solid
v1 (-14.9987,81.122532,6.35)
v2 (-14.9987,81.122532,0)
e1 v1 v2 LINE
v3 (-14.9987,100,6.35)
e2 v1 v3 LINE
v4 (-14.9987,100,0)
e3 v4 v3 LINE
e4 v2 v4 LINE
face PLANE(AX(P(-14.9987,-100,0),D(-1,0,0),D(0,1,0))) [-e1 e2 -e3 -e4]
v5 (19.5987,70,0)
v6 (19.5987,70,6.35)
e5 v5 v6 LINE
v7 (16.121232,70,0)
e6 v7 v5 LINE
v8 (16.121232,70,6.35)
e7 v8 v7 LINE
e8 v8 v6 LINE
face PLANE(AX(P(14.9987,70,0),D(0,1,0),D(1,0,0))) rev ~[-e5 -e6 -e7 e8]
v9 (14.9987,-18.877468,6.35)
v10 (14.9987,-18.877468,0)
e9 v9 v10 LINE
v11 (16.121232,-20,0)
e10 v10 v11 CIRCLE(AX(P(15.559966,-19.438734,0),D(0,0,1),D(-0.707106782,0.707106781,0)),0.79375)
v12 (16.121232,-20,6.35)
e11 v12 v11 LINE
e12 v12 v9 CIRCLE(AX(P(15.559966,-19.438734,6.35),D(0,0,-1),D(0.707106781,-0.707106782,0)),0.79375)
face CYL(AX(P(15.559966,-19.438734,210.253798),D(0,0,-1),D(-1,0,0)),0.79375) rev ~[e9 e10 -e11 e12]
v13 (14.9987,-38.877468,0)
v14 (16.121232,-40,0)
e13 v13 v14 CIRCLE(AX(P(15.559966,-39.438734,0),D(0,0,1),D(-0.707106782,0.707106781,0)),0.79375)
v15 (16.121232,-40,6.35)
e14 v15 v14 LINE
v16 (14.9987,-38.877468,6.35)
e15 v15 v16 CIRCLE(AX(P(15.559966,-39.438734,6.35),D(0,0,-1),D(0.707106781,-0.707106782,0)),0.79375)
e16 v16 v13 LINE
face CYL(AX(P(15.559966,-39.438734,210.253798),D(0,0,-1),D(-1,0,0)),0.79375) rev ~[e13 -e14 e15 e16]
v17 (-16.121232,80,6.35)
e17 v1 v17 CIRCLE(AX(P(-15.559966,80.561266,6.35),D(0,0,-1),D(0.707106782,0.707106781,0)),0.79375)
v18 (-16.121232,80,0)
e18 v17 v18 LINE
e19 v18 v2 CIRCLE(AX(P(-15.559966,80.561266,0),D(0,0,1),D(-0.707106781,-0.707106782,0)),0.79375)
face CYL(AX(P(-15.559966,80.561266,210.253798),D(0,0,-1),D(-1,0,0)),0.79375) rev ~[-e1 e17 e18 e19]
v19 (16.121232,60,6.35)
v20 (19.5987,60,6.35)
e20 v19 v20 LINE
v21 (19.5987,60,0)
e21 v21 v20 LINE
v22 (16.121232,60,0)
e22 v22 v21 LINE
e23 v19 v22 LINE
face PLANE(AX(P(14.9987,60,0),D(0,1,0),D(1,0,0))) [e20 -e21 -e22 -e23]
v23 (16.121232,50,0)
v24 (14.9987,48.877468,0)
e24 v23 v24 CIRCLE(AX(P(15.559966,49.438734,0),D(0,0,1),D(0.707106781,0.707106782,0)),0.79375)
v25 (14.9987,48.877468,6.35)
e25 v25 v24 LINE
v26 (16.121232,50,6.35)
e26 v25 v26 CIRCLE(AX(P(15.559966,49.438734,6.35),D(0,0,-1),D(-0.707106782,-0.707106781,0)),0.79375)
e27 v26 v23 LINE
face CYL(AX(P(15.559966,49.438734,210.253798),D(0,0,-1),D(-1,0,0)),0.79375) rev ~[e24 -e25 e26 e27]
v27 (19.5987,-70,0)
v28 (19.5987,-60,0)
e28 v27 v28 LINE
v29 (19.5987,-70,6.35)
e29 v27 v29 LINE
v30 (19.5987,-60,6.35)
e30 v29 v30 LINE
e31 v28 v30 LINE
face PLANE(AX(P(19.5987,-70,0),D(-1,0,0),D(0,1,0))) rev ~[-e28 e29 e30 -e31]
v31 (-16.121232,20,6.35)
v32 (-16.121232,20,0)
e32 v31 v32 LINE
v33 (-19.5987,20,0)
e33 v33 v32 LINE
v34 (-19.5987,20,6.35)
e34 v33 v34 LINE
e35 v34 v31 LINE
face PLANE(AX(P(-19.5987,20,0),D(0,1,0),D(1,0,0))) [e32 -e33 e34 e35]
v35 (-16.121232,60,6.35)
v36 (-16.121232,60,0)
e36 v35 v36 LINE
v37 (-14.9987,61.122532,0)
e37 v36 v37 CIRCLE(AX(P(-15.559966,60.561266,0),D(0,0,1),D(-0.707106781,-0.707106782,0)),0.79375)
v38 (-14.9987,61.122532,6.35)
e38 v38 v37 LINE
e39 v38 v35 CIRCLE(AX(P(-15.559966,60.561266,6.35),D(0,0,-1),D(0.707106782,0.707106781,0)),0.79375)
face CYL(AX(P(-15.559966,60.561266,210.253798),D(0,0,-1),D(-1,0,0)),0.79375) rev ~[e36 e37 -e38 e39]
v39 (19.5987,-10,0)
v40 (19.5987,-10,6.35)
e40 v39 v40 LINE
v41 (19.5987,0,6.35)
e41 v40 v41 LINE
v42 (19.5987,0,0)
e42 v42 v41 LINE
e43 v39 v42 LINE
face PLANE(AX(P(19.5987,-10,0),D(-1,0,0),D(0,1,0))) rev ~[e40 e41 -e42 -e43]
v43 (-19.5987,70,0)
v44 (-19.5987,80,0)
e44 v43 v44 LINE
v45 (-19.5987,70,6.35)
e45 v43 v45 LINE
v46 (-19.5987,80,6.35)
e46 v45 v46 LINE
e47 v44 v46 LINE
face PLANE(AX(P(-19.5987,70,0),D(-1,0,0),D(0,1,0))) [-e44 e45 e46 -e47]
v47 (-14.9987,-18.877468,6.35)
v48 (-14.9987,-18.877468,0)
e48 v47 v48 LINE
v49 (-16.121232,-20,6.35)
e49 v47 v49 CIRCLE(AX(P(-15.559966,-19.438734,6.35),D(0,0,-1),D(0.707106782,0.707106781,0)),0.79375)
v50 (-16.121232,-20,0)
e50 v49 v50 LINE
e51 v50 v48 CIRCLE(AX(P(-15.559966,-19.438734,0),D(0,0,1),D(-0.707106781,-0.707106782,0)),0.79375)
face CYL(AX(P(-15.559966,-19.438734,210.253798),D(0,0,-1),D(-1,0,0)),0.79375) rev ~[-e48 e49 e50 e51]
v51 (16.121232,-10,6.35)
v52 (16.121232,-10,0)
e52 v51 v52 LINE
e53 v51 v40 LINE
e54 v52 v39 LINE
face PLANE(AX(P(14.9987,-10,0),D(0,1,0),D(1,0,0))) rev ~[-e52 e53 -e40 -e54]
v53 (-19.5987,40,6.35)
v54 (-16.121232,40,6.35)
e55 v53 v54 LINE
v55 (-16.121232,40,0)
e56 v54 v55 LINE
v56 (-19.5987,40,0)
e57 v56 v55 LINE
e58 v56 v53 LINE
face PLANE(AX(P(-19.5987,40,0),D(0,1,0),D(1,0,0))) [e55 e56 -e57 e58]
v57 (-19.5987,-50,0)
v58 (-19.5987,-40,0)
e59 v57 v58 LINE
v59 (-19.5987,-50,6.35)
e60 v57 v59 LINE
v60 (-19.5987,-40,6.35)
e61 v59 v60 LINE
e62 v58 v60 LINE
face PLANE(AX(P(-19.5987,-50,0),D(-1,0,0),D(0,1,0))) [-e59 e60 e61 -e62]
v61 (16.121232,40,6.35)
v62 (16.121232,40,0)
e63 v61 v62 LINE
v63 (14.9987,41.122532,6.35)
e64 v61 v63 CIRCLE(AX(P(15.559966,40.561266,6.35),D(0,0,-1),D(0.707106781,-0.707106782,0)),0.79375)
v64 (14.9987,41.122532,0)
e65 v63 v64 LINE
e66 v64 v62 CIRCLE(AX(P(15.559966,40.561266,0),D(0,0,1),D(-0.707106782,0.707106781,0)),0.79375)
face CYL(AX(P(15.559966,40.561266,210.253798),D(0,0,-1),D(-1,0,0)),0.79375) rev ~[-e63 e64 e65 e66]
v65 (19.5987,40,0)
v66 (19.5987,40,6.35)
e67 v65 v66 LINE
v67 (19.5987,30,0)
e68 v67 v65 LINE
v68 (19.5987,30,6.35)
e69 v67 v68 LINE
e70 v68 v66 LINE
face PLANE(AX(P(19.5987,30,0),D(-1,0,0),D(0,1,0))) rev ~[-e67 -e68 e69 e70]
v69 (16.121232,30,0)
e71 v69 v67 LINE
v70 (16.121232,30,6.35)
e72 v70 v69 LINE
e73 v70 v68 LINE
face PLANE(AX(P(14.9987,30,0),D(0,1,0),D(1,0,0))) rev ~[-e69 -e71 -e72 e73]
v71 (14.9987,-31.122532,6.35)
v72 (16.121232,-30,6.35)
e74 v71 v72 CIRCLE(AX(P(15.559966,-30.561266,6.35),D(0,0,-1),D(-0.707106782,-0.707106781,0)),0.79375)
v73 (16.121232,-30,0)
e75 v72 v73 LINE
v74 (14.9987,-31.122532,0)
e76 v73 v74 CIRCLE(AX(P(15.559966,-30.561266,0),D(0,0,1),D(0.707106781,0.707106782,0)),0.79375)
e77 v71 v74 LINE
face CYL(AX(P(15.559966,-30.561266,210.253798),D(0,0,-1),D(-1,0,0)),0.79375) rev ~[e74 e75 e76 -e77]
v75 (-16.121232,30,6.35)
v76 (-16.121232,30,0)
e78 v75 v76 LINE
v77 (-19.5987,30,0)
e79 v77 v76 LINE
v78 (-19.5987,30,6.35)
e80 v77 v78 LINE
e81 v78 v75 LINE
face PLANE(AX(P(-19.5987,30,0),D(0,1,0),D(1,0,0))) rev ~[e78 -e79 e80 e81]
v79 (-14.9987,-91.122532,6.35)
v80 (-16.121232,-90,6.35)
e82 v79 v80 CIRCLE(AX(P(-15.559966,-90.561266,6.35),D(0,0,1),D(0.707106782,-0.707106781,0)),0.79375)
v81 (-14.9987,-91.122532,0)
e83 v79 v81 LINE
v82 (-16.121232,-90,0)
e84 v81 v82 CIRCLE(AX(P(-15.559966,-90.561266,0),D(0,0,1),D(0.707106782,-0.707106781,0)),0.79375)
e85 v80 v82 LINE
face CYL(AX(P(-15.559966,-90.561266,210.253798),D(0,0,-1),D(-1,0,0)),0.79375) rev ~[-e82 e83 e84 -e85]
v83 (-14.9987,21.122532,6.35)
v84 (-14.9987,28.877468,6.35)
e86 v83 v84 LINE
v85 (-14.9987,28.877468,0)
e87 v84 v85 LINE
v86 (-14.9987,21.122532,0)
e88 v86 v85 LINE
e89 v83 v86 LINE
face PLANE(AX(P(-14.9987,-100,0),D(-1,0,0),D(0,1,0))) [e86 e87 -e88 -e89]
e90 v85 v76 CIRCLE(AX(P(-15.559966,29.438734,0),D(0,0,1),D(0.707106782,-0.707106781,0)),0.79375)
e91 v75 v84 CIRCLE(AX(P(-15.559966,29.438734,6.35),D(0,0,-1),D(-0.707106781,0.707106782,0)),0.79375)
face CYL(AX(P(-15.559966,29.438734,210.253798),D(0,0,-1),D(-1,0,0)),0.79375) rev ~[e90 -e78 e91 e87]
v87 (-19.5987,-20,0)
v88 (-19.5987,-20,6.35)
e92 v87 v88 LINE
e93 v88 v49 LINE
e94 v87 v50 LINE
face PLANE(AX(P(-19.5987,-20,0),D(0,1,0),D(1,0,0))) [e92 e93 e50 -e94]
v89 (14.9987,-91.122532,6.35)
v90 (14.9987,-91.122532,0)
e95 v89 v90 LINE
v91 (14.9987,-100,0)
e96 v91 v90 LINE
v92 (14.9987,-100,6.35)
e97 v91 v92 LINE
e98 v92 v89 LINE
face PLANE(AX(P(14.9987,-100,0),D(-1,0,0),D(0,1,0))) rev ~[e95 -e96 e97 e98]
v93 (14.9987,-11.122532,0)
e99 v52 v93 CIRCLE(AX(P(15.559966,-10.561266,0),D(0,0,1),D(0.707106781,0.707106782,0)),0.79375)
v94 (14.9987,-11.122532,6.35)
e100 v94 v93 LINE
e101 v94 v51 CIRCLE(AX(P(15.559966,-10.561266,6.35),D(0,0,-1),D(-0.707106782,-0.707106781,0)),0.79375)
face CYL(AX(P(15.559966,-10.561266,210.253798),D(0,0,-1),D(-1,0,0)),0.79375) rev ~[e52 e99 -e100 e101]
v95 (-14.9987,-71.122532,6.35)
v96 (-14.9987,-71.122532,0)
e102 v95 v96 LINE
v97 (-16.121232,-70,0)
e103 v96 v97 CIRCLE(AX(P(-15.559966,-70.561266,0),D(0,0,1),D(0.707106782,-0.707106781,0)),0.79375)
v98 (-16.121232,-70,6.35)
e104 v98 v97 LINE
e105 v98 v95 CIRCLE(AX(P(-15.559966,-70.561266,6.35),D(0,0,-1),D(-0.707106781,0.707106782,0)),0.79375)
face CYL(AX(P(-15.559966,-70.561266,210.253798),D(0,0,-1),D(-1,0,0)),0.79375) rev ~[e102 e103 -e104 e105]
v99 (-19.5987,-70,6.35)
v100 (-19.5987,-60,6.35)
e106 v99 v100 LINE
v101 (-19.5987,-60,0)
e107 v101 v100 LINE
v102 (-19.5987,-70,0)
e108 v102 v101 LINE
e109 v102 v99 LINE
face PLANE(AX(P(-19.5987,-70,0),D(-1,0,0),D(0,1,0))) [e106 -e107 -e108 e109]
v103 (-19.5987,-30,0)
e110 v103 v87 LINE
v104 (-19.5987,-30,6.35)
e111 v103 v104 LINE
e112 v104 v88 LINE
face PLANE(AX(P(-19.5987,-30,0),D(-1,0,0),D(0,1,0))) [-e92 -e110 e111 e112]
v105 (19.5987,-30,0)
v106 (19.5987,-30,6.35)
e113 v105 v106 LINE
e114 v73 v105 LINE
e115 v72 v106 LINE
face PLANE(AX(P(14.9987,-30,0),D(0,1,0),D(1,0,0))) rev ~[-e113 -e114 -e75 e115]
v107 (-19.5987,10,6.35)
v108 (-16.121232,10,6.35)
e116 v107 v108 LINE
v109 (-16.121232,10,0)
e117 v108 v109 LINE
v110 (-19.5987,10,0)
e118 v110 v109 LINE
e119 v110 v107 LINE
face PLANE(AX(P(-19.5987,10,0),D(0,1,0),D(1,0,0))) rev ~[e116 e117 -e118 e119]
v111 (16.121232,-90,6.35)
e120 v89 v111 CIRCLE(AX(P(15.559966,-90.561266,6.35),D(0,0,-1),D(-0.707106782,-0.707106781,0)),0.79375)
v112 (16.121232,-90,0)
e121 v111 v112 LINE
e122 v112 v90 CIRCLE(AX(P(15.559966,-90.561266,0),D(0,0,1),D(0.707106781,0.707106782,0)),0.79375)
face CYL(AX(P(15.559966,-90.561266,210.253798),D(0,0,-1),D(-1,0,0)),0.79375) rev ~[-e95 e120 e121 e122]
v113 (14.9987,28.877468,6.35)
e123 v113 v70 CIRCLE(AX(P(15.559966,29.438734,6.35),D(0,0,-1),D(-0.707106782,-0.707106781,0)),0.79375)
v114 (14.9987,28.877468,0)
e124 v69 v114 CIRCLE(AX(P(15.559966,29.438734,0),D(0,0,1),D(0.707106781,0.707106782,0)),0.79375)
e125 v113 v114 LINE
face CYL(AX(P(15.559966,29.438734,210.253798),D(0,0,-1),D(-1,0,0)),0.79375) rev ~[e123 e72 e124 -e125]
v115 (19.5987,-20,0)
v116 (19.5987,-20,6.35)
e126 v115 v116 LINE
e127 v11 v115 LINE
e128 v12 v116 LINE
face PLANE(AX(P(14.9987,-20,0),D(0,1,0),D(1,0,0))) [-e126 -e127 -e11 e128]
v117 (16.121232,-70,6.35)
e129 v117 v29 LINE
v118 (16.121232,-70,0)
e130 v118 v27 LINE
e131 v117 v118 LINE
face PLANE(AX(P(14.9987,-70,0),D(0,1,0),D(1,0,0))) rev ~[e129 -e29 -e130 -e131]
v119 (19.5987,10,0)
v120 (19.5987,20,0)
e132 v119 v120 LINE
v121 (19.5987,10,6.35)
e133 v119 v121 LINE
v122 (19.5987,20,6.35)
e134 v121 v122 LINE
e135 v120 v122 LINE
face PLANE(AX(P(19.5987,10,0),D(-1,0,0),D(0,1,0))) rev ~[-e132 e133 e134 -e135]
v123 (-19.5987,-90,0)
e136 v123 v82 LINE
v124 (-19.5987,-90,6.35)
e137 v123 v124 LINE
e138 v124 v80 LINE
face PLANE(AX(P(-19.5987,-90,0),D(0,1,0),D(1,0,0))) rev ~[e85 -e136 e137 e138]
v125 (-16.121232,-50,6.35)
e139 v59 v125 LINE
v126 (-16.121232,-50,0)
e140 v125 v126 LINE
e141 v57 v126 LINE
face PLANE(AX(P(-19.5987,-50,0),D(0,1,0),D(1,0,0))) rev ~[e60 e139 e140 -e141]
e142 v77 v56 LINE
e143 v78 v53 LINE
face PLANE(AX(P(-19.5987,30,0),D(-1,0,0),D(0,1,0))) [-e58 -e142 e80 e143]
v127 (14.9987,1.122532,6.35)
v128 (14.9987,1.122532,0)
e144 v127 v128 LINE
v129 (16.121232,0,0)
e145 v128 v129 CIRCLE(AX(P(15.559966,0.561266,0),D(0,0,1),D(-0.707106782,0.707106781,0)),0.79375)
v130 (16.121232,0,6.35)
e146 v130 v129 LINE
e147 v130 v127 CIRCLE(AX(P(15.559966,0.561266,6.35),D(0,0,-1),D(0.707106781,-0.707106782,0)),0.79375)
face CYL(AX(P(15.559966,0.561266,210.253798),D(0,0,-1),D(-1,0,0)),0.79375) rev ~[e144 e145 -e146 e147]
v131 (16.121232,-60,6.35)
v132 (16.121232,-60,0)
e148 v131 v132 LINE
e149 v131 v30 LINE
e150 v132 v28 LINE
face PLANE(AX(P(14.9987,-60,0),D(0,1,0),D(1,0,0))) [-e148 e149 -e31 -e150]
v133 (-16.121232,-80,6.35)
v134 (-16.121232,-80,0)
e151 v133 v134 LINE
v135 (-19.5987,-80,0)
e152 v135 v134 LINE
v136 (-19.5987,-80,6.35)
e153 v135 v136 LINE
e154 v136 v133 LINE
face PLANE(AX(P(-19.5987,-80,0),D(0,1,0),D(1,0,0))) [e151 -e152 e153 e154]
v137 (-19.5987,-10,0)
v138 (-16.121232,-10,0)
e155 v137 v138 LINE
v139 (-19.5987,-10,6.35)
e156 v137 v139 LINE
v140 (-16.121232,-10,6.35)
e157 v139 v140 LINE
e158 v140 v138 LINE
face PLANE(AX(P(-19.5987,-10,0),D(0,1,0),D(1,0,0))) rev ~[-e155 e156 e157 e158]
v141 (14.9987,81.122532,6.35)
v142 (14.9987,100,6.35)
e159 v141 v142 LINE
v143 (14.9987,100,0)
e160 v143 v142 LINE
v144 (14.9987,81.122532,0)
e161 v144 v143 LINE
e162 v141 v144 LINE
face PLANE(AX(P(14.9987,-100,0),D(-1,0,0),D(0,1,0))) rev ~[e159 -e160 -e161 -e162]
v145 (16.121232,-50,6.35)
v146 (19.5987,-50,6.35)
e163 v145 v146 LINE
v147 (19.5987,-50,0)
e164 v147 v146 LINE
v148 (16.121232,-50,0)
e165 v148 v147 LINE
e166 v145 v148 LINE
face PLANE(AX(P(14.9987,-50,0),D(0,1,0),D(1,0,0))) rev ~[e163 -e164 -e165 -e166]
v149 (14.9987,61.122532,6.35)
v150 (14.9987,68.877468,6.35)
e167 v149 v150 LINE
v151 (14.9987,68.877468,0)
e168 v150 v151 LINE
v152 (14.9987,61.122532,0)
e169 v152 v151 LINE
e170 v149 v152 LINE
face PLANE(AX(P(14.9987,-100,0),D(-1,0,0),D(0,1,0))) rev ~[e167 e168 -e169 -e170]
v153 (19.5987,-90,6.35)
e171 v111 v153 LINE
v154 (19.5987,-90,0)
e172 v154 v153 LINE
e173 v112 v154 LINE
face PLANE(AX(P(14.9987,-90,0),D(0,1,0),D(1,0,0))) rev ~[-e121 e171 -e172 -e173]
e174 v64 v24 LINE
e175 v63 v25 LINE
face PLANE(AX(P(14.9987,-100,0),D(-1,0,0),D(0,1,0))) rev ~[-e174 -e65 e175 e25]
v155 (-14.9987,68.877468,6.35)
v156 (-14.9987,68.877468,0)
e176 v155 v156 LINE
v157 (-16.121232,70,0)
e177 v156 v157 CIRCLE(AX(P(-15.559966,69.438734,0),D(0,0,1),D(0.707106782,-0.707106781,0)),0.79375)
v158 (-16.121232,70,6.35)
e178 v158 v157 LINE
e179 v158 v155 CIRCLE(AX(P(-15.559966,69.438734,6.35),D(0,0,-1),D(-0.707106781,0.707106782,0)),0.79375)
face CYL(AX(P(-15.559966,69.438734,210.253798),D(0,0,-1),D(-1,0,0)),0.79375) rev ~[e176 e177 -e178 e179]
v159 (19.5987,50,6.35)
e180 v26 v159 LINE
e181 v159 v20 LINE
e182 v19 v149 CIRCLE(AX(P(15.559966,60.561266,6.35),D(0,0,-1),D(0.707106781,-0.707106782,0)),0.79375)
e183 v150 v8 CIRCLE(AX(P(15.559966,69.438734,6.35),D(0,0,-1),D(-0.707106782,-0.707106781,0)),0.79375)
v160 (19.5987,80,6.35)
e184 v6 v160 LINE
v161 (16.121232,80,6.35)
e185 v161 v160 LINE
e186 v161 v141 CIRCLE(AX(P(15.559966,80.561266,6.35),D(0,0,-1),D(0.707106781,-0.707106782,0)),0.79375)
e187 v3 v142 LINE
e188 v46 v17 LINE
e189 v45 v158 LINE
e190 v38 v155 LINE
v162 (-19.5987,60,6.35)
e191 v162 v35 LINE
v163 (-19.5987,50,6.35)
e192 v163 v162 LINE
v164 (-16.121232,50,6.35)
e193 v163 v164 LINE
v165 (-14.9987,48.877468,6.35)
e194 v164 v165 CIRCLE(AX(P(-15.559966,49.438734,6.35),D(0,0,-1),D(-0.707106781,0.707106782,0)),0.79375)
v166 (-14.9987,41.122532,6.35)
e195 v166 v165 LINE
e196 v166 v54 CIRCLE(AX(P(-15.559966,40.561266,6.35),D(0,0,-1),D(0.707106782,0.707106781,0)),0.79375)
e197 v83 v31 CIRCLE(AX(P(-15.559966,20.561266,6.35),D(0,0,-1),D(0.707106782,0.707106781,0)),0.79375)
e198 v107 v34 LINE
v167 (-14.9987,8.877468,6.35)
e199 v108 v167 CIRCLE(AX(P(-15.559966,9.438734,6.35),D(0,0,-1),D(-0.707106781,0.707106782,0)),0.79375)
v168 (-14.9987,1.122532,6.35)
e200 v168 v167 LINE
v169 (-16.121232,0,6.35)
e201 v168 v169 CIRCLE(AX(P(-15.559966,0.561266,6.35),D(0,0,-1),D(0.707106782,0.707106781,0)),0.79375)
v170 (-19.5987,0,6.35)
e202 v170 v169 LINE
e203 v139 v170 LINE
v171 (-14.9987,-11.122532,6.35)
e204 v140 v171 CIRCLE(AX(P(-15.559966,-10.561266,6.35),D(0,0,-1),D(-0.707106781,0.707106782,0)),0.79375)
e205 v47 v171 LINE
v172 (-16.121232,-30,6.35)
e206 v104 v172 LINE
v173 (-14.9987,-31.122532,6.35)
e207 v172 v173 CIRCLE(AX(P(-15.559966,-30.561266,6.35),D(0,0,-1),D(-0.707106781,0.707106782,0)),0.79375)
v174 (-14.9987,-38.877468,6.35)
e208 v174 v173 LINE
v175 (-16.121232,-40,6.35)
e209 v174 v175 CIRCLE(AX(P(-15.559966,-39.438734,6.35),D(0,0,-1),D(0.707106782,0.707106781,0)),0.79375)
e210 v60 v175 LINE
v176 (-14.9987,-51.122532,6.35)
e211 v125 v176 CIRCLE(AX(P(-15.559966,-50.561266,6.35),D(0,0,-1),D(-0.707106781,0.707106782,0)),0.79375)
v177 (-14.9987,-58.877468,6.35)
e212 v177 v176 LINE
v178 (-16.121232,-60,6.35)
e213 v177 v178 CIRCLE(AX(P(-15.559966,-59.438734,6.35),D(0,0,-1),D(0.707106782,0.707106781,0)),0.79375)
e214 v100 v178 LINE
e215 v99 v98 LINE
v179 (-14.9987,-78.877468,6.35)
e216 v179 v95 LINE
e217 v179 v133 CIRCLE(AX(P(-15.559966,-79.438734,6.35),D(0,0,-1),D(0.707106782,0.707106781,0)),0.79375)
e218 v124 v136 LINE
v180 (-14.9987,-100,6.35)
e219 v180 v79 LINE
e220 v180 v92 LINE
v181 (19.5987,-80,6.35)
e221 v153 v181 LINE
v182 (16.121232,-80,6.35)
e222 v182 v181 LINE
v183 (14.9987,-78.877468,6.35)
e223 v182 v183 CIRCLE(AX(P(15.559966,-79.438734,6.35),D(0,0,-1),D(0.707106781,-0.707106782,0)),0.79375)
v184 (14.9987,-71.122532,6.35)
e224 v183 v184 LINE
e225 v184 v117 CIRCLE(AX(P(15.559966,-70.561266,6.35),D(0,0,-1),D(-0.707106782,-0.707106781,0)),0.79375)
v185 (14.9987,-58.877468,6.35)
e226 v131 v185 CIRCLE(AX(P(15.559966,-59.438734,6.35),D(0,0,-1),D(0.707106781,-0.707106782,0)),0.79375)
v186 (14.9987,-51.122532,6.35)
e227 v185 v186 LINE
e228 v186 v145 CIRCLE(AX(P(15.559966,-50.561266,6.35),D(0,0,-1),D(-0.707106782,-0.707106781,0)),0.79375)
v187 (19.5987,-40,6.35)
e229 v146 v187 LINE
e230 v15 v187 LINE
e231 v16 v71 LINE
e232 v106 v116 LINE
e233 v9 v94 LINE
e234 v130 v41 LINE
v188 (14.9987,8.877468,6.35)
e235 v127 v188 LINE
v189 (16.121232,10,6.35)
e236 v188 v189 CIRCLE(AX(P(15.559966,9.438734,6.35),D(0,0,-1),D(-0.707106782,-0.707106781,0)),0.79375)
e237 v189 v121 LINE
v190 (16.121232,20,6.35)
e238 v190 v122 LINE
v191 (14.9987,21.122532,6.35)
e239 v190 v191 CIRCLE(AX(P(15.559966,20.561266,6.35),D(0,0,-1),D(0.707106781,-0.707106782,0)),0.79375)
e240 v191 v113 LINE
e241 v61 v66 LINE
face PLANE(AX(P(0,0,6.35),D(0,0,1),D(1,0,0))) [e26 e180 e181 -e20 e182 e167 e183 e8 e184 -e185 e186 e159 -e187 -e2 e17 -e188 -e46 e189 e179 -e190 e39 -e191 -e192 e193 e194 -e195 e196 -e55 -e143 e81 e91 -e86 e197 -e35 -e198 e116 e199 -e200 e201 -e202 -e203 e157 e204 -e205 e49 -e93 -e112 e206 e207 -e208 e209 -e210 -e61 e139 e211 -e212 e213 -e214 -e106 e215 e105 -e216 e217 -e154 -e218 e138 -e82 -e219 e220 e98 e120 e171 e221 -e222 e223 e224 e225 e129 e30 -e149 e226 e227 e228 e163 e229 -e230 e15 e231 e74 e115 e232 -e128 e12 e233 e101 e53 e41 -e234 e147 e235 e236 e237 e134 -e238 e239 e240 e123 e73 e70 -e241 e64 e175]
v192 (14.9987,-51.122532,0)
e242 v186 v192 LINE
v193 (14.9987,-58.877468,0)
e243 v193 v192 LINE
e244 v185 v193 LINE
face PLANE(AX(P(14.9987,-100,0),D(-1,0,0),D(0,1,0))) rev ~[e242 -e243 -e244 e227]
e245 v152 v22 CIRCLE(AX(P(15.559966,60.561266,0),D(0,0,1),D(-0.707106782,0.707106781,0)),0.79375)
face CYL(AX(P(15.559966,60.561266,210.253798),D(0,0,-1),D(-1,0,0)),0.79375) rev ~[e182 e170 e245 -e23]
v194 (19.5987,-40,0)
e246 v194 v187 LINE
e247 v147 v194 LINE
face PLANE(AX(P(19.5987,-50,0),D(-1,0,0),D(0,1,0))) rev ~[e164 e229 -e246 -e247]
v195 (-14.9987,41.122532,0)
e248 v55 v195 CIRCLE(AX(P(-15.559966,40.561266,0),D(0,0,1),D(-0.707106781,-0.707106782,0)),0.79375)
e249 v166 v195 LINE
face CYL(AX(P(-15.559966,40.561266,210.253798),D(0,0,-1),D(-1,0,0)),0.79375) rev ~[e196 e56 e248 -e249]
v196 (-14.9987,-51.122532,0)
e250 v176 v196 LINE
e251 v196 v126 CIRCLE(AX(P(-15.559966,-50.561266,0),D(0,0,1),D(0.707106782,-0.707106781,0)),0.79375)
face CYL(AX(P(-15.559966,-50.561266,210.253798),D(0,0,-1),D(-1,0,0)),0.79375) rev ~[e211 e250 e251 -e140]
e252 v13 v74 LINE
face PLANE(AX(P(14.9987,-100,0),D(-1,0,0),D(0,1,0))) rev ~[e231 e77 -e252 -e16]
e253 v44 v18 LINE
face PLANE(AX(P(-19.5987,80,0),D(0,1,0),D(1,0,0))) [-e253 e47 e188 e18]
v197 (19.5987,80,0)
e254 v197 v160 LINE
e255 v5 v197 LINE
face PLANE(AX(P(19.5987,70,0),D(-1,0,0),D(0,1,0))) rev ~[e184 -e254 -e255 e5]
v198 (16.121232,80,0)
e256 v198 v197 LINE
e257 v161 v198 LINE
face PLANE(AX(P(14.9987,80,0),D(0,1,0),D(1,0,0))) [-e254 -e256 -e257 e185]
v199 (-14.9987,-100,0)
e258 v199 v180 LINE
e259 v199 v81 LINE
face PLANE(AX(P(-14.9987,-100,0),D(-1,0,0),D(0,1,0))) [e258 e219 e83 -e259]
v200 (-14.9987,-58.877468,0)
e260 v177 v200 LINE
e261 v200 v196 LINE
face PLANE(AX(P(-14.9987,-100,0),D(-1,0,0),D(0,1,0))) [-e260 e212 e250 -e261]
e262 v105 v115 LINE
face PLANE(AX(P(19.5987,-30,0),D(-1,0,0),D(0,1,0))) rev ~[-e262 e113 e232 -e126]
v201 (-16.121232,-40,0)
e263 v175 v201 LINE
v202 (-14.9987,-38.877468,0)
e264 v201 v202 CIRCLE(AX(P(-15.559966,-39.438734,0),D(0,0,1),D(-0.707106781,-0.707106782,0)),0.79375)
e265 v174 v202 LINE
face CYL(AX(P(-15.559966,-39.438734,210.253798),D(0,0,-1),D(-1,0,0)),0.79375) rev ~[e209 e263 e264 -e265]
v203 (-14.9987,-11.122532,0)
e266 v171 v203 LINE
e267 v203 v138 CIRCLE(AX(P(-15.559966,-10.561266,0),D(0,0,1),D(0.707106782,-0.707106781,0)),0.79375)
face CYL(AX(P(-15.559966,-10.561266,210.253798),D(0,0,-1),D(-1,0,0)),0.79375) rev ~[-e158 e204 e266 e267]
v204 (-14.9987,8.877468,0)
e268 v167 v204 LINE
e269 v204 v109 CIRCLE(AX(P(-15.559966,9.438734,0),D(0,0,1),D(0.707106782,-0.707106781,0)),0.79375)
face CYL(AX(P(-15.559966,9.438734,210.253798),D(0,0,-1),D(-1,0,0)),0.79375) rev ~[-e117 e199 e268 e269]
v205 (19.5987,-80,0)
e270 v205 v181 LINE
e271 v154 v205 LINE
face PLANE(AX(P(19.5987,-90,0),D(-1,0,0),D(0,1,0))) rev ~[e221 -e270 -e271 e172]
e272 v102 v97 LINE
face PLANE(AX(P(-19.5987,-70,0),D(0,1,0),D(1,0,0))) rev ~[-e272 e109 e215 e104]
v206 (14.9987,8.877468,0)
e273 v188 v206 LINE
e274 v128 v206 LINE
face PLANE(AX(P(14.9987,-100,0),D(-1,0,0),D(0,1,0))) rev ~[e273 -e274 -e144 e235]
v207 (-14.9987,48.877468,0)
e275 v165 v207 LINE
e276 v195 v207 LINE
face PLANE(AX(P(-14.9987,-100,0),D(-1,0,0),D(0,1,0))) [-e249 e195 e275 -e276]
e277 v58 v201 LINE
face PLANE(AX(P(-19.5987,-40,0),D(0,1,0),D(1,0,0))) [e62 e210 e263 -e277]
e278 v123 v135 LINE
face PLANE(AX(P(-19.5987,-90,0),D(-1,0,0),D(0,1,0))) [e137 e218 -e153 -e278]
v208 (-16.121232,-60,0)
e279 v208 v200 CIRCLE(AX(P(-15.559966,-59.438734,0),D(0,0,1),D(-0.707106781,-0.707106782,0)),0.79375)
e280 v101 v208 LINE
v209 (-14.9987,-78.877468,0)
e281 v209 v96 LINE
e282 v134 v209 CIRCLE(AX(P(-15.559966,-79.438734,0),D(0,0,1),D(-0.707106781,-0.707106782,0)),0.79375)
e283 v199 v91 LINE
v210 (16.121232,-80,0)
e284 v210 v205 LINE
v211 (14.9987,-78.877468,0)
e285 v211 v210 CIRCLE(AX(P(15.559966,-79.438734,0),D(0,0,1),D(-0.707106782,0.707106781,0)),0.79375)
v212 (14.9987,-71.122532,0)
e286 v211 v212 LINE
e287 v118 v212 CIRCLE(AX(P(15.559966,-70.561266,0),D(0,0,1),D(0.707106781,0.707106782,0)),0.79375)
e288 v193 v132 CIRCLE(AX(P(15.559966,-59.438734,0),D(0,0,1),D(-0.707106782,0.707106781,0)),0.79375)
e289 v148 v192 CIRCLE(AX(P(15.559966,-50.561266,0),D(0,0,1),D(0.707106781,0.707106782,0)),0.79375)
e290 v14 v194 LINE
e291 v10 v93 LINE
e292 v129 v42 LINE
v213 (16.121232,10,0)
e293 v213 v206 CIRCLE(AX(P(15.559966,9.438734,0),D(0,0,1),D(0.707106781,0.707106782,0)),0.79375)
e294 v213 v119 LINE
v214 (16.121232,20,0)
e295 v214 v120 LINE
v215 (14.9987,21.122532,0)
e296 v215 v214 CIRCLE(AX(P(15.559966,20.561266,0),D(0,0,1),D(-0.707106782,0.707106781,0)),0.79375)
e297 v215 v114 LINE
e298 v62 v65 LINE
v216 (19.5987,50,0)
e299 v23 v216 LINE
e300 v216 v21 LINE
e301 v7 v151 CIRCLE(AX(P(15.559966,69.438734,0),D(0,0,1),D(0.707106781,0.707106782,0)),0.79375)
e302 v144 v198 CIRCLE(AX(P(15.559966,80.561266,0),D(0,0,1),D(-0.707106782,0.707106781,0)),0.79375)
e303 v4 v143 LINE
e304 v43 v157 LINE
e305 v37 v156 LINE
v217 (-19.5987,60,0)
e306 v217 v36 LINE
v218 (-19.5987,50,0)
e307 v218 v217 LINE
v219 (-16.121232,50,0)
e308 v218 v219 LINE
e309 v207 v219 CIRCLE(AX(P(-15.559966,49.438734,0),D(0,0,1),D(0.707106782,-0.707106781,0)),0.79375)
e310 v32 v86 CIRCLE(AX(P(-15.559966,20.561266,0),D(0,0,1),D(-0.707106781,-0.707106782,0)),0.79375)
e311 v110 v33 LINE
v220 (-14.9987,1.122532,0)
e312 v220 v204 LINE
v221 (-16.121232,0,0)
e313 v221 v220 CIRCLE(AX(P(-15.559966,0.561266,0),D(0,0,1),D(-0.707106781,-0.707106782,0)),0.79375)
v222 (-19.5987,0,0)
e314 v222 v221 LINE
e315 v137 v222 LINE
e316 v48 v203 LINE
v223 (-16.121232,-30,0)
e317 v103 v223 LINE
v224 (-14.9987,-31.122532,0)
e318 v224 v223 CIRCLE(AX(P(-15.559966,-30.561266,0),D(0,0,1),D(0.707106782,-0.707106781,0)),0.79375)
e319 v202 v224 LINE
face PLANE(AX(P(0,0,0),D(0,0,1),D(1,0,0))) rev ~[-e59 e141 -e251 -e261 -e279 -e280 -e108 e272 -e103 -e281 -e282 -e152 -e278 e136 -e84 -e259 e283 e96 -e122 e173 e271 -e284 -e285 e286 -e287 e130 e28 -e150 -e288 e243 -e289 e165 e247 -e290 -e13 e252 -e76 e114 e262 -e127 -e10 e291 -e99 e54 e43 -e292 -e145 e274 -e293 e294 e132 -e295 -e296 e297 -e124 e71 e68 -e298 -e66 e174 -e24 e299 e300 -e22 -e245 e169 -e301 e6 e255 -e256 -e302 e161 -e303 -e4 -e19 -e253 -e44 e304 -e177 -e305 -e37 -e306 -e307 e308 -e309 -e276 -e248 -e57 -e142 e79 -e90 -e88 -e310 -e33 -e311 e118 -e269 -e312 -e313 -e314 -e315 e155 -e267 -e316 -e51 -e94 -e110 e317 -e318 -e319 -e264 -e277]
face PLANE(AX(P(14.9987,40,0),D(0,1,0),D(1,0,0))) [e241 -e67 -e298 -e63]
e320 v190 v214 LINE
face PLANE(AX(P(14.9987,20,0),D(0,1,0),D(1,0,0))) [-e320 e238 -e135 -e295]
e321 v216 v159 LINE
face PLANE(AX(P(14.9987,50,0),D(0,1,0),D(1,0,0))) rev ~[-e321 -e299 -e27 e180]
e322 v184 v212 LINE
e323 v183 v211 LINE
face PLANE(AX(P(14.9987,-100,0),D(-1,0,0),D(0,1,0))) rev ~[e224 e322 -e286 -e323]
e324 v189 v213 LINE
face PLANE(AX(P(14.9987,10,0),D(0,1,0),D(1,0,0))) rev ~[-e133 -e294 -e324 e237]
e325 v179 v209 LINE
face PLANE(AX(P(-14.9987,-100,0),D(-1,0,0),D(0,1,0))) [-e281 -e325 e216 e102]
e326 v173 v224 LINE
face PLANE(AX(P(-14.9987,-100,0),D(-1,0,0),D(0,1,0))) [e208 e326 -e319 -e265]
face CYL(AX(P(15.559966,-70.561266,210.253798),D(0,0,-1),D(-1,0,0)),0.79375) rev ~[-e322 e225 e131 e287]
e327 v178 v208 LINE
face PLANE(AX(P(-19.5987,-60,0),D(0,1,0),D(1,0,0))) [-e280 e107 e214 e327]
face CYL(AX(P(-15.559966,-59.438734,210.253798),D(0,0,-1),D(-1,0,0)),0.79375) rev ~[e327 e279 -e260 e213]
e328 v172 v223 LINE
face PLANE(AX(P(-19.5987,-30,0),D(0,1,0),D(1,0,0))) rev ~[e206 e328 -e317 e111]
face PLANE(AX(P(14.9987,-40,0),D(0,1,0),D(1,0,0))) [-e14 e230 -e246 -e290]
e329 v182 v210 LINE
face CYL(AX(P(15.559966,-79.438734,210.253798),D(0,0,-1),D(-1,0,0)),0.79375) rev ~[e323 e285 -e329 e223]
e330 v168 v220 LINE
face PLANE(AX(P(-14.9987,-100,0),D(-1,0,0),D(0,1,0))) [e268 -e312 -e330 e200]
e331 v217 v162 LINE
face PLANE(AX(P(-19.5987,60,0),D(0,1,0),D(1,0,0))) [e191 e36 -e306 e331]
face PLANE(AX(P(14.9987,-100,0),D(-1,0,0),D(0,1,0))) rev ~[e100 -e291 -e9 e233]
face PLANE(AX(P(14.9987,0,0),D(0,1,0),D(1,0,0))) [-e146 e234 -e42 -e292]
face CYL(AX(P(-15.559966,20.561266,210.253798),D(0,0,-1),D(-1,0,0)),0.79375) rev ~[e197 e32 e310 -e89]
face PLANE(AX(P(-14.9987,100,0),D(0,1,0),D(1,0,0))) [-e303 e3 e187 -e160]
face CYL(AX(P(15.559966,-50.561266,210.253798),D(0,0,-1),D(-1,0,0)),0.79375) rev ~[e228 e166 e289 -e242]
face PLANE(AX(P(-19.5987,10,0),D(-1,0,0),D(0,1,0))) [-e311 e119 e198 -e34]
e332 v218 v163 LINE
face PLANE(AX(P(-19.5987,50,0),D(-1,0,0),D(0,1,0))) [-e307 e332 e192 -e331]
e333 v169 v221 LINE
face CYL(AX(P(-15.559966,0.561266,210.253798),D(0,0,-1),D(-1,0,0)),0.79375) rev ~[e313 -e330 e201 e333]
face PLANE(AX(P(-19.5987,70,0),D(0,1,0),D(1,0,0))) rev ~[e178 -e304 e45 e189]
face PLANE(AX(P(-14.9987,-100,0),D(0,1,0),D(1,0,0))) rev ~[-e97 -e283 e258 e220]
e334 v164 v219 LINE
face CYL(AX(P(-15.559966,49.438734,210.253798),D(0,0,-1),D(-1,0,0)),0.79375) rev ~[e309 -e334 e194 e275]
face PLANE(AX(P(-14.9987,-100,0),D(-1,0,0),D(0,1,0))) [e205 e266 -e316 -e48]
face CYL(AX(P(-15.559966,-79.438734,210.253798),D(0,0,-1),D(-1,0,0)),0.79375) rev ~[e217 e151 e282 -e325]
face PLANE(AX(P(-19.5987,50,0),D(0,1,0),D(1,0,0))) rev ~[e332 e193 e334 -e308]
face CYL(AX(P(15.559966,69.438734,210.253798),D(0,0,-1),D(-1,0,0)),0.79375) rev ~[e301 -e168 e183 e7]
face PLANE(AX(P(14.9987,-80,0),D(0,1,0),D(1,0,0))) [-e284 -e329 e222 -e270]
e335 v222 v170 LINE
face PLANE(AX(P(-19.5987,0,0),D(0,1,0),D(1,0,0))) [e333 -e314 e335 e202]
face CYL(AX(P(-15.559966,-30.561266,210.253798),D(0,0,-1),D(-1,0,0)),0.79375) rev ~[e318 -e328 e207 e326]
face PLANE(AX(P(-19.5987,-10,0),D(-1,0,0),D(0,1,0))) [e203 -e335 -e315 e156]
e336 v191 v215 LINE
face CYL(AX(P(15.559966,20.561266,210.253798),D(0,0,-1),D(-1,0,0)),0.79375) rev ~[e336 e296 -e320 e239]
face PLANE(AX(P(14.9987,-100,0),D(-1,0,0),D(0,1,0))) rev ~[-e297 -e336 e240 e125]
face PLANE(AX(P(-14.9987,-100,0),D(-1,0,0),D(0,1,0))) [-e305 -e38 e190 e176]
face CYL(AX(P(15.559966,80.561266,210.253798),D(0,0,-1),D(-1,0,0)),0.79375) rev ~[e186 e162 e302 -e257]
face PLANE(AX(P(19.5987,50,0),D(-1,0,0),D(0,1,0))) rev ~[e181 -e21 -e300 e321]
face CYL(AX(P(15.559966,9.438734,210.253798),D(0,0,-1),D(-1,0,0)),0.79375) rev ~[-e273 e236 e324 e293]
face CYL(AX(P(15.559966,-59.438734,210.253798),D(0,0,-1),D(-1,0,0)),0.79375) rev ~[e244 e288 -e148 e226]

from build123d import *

# Parameters (mm, degrees)
SKETCH1_W           = 29.9974
SKETCH1_H           = 200
BOSS_EXTRUDE1_DEPTH = 6.35
SKETCH2_W           = 4.6
SKETCH2_H           = 10
BOSS_EXTRUDE2_DEPTH = 6.35
LPATTERN1_COUNT     = 9
LPATTERN1_PITCH     = 20
DOGBONE01_D         = 1.5875
DOGBONE02_D         = 1.5875
LPATTERN2_COUNT     = 9
LPATTERN2_PITCH     = 20
LPATTERN4_COUNT     = 9
LPATTERN4_PITCH     = 20


with BuildPart() as part:
    # Sketch1 → Boss-Extrude1 (new body)
    with BuildSketch(Plane.XY):
        Rectangle(SKETCH1_W, SKETCH1_H)
    extrude(amount=BOSS_EXTRUDE1_DEPTH)

    # Sketch2 → Boss-Extrude2 (add)
    with BuildSketch(Plane.XY):
        with Locations((-17.2987, -85)):
            Rectangle(SKETCH2_W, SKETCH2_H)
        with Locations((17.2987, -85)):
            Rectangle(SKETCH2_W, SKETCH2_H)
    boss_extrude2 = extrude(amount=BOSS_EXTRUDE2_DEPTH)

    # LPattern1: Boss-Extrude2 ×9
    with Locations(*[(0, i * LPATTERN1_PITCH, 0) for i in range(1, LPATTERN1_COUNT)]):
        add(boss_extrude2)

    # dogBone01 (through all)
    with Locations(Plane.XY.offset(6.35)):
        with Locations((15.559966008, -90.561266008), (-15.559966008, -90.561266008)):
            dogbone01 = Hole(DOGBONE01_D / 2)

    # dogBone02 (through all)
    with Locations(Plane.XY.offset(6.35)):
        with Locations((15.559966008, -79.438733992), (-15.559966008, -79.438733992)):
            dogbone02 = Hole(DOGBONE02_D / 2)

    # LPattern2: dogBone01 ×9
    with Locations(*[(0, i * LPATTERN2_PITCH, 0) for i in range(1, LPATTERN2_COUNT)]):
        add(dogbone01, mode=Mode.SUBTRACT)

    # LPattern4: dogBone02 ×9
    with Locations(*[(0, i * LPATTERN4_PITCH, 0) for i in range(1, LPATTERN4_COUNT)]):
        add(dogbone02, mode=Mode.SUBTRACT)


solid = part.part
